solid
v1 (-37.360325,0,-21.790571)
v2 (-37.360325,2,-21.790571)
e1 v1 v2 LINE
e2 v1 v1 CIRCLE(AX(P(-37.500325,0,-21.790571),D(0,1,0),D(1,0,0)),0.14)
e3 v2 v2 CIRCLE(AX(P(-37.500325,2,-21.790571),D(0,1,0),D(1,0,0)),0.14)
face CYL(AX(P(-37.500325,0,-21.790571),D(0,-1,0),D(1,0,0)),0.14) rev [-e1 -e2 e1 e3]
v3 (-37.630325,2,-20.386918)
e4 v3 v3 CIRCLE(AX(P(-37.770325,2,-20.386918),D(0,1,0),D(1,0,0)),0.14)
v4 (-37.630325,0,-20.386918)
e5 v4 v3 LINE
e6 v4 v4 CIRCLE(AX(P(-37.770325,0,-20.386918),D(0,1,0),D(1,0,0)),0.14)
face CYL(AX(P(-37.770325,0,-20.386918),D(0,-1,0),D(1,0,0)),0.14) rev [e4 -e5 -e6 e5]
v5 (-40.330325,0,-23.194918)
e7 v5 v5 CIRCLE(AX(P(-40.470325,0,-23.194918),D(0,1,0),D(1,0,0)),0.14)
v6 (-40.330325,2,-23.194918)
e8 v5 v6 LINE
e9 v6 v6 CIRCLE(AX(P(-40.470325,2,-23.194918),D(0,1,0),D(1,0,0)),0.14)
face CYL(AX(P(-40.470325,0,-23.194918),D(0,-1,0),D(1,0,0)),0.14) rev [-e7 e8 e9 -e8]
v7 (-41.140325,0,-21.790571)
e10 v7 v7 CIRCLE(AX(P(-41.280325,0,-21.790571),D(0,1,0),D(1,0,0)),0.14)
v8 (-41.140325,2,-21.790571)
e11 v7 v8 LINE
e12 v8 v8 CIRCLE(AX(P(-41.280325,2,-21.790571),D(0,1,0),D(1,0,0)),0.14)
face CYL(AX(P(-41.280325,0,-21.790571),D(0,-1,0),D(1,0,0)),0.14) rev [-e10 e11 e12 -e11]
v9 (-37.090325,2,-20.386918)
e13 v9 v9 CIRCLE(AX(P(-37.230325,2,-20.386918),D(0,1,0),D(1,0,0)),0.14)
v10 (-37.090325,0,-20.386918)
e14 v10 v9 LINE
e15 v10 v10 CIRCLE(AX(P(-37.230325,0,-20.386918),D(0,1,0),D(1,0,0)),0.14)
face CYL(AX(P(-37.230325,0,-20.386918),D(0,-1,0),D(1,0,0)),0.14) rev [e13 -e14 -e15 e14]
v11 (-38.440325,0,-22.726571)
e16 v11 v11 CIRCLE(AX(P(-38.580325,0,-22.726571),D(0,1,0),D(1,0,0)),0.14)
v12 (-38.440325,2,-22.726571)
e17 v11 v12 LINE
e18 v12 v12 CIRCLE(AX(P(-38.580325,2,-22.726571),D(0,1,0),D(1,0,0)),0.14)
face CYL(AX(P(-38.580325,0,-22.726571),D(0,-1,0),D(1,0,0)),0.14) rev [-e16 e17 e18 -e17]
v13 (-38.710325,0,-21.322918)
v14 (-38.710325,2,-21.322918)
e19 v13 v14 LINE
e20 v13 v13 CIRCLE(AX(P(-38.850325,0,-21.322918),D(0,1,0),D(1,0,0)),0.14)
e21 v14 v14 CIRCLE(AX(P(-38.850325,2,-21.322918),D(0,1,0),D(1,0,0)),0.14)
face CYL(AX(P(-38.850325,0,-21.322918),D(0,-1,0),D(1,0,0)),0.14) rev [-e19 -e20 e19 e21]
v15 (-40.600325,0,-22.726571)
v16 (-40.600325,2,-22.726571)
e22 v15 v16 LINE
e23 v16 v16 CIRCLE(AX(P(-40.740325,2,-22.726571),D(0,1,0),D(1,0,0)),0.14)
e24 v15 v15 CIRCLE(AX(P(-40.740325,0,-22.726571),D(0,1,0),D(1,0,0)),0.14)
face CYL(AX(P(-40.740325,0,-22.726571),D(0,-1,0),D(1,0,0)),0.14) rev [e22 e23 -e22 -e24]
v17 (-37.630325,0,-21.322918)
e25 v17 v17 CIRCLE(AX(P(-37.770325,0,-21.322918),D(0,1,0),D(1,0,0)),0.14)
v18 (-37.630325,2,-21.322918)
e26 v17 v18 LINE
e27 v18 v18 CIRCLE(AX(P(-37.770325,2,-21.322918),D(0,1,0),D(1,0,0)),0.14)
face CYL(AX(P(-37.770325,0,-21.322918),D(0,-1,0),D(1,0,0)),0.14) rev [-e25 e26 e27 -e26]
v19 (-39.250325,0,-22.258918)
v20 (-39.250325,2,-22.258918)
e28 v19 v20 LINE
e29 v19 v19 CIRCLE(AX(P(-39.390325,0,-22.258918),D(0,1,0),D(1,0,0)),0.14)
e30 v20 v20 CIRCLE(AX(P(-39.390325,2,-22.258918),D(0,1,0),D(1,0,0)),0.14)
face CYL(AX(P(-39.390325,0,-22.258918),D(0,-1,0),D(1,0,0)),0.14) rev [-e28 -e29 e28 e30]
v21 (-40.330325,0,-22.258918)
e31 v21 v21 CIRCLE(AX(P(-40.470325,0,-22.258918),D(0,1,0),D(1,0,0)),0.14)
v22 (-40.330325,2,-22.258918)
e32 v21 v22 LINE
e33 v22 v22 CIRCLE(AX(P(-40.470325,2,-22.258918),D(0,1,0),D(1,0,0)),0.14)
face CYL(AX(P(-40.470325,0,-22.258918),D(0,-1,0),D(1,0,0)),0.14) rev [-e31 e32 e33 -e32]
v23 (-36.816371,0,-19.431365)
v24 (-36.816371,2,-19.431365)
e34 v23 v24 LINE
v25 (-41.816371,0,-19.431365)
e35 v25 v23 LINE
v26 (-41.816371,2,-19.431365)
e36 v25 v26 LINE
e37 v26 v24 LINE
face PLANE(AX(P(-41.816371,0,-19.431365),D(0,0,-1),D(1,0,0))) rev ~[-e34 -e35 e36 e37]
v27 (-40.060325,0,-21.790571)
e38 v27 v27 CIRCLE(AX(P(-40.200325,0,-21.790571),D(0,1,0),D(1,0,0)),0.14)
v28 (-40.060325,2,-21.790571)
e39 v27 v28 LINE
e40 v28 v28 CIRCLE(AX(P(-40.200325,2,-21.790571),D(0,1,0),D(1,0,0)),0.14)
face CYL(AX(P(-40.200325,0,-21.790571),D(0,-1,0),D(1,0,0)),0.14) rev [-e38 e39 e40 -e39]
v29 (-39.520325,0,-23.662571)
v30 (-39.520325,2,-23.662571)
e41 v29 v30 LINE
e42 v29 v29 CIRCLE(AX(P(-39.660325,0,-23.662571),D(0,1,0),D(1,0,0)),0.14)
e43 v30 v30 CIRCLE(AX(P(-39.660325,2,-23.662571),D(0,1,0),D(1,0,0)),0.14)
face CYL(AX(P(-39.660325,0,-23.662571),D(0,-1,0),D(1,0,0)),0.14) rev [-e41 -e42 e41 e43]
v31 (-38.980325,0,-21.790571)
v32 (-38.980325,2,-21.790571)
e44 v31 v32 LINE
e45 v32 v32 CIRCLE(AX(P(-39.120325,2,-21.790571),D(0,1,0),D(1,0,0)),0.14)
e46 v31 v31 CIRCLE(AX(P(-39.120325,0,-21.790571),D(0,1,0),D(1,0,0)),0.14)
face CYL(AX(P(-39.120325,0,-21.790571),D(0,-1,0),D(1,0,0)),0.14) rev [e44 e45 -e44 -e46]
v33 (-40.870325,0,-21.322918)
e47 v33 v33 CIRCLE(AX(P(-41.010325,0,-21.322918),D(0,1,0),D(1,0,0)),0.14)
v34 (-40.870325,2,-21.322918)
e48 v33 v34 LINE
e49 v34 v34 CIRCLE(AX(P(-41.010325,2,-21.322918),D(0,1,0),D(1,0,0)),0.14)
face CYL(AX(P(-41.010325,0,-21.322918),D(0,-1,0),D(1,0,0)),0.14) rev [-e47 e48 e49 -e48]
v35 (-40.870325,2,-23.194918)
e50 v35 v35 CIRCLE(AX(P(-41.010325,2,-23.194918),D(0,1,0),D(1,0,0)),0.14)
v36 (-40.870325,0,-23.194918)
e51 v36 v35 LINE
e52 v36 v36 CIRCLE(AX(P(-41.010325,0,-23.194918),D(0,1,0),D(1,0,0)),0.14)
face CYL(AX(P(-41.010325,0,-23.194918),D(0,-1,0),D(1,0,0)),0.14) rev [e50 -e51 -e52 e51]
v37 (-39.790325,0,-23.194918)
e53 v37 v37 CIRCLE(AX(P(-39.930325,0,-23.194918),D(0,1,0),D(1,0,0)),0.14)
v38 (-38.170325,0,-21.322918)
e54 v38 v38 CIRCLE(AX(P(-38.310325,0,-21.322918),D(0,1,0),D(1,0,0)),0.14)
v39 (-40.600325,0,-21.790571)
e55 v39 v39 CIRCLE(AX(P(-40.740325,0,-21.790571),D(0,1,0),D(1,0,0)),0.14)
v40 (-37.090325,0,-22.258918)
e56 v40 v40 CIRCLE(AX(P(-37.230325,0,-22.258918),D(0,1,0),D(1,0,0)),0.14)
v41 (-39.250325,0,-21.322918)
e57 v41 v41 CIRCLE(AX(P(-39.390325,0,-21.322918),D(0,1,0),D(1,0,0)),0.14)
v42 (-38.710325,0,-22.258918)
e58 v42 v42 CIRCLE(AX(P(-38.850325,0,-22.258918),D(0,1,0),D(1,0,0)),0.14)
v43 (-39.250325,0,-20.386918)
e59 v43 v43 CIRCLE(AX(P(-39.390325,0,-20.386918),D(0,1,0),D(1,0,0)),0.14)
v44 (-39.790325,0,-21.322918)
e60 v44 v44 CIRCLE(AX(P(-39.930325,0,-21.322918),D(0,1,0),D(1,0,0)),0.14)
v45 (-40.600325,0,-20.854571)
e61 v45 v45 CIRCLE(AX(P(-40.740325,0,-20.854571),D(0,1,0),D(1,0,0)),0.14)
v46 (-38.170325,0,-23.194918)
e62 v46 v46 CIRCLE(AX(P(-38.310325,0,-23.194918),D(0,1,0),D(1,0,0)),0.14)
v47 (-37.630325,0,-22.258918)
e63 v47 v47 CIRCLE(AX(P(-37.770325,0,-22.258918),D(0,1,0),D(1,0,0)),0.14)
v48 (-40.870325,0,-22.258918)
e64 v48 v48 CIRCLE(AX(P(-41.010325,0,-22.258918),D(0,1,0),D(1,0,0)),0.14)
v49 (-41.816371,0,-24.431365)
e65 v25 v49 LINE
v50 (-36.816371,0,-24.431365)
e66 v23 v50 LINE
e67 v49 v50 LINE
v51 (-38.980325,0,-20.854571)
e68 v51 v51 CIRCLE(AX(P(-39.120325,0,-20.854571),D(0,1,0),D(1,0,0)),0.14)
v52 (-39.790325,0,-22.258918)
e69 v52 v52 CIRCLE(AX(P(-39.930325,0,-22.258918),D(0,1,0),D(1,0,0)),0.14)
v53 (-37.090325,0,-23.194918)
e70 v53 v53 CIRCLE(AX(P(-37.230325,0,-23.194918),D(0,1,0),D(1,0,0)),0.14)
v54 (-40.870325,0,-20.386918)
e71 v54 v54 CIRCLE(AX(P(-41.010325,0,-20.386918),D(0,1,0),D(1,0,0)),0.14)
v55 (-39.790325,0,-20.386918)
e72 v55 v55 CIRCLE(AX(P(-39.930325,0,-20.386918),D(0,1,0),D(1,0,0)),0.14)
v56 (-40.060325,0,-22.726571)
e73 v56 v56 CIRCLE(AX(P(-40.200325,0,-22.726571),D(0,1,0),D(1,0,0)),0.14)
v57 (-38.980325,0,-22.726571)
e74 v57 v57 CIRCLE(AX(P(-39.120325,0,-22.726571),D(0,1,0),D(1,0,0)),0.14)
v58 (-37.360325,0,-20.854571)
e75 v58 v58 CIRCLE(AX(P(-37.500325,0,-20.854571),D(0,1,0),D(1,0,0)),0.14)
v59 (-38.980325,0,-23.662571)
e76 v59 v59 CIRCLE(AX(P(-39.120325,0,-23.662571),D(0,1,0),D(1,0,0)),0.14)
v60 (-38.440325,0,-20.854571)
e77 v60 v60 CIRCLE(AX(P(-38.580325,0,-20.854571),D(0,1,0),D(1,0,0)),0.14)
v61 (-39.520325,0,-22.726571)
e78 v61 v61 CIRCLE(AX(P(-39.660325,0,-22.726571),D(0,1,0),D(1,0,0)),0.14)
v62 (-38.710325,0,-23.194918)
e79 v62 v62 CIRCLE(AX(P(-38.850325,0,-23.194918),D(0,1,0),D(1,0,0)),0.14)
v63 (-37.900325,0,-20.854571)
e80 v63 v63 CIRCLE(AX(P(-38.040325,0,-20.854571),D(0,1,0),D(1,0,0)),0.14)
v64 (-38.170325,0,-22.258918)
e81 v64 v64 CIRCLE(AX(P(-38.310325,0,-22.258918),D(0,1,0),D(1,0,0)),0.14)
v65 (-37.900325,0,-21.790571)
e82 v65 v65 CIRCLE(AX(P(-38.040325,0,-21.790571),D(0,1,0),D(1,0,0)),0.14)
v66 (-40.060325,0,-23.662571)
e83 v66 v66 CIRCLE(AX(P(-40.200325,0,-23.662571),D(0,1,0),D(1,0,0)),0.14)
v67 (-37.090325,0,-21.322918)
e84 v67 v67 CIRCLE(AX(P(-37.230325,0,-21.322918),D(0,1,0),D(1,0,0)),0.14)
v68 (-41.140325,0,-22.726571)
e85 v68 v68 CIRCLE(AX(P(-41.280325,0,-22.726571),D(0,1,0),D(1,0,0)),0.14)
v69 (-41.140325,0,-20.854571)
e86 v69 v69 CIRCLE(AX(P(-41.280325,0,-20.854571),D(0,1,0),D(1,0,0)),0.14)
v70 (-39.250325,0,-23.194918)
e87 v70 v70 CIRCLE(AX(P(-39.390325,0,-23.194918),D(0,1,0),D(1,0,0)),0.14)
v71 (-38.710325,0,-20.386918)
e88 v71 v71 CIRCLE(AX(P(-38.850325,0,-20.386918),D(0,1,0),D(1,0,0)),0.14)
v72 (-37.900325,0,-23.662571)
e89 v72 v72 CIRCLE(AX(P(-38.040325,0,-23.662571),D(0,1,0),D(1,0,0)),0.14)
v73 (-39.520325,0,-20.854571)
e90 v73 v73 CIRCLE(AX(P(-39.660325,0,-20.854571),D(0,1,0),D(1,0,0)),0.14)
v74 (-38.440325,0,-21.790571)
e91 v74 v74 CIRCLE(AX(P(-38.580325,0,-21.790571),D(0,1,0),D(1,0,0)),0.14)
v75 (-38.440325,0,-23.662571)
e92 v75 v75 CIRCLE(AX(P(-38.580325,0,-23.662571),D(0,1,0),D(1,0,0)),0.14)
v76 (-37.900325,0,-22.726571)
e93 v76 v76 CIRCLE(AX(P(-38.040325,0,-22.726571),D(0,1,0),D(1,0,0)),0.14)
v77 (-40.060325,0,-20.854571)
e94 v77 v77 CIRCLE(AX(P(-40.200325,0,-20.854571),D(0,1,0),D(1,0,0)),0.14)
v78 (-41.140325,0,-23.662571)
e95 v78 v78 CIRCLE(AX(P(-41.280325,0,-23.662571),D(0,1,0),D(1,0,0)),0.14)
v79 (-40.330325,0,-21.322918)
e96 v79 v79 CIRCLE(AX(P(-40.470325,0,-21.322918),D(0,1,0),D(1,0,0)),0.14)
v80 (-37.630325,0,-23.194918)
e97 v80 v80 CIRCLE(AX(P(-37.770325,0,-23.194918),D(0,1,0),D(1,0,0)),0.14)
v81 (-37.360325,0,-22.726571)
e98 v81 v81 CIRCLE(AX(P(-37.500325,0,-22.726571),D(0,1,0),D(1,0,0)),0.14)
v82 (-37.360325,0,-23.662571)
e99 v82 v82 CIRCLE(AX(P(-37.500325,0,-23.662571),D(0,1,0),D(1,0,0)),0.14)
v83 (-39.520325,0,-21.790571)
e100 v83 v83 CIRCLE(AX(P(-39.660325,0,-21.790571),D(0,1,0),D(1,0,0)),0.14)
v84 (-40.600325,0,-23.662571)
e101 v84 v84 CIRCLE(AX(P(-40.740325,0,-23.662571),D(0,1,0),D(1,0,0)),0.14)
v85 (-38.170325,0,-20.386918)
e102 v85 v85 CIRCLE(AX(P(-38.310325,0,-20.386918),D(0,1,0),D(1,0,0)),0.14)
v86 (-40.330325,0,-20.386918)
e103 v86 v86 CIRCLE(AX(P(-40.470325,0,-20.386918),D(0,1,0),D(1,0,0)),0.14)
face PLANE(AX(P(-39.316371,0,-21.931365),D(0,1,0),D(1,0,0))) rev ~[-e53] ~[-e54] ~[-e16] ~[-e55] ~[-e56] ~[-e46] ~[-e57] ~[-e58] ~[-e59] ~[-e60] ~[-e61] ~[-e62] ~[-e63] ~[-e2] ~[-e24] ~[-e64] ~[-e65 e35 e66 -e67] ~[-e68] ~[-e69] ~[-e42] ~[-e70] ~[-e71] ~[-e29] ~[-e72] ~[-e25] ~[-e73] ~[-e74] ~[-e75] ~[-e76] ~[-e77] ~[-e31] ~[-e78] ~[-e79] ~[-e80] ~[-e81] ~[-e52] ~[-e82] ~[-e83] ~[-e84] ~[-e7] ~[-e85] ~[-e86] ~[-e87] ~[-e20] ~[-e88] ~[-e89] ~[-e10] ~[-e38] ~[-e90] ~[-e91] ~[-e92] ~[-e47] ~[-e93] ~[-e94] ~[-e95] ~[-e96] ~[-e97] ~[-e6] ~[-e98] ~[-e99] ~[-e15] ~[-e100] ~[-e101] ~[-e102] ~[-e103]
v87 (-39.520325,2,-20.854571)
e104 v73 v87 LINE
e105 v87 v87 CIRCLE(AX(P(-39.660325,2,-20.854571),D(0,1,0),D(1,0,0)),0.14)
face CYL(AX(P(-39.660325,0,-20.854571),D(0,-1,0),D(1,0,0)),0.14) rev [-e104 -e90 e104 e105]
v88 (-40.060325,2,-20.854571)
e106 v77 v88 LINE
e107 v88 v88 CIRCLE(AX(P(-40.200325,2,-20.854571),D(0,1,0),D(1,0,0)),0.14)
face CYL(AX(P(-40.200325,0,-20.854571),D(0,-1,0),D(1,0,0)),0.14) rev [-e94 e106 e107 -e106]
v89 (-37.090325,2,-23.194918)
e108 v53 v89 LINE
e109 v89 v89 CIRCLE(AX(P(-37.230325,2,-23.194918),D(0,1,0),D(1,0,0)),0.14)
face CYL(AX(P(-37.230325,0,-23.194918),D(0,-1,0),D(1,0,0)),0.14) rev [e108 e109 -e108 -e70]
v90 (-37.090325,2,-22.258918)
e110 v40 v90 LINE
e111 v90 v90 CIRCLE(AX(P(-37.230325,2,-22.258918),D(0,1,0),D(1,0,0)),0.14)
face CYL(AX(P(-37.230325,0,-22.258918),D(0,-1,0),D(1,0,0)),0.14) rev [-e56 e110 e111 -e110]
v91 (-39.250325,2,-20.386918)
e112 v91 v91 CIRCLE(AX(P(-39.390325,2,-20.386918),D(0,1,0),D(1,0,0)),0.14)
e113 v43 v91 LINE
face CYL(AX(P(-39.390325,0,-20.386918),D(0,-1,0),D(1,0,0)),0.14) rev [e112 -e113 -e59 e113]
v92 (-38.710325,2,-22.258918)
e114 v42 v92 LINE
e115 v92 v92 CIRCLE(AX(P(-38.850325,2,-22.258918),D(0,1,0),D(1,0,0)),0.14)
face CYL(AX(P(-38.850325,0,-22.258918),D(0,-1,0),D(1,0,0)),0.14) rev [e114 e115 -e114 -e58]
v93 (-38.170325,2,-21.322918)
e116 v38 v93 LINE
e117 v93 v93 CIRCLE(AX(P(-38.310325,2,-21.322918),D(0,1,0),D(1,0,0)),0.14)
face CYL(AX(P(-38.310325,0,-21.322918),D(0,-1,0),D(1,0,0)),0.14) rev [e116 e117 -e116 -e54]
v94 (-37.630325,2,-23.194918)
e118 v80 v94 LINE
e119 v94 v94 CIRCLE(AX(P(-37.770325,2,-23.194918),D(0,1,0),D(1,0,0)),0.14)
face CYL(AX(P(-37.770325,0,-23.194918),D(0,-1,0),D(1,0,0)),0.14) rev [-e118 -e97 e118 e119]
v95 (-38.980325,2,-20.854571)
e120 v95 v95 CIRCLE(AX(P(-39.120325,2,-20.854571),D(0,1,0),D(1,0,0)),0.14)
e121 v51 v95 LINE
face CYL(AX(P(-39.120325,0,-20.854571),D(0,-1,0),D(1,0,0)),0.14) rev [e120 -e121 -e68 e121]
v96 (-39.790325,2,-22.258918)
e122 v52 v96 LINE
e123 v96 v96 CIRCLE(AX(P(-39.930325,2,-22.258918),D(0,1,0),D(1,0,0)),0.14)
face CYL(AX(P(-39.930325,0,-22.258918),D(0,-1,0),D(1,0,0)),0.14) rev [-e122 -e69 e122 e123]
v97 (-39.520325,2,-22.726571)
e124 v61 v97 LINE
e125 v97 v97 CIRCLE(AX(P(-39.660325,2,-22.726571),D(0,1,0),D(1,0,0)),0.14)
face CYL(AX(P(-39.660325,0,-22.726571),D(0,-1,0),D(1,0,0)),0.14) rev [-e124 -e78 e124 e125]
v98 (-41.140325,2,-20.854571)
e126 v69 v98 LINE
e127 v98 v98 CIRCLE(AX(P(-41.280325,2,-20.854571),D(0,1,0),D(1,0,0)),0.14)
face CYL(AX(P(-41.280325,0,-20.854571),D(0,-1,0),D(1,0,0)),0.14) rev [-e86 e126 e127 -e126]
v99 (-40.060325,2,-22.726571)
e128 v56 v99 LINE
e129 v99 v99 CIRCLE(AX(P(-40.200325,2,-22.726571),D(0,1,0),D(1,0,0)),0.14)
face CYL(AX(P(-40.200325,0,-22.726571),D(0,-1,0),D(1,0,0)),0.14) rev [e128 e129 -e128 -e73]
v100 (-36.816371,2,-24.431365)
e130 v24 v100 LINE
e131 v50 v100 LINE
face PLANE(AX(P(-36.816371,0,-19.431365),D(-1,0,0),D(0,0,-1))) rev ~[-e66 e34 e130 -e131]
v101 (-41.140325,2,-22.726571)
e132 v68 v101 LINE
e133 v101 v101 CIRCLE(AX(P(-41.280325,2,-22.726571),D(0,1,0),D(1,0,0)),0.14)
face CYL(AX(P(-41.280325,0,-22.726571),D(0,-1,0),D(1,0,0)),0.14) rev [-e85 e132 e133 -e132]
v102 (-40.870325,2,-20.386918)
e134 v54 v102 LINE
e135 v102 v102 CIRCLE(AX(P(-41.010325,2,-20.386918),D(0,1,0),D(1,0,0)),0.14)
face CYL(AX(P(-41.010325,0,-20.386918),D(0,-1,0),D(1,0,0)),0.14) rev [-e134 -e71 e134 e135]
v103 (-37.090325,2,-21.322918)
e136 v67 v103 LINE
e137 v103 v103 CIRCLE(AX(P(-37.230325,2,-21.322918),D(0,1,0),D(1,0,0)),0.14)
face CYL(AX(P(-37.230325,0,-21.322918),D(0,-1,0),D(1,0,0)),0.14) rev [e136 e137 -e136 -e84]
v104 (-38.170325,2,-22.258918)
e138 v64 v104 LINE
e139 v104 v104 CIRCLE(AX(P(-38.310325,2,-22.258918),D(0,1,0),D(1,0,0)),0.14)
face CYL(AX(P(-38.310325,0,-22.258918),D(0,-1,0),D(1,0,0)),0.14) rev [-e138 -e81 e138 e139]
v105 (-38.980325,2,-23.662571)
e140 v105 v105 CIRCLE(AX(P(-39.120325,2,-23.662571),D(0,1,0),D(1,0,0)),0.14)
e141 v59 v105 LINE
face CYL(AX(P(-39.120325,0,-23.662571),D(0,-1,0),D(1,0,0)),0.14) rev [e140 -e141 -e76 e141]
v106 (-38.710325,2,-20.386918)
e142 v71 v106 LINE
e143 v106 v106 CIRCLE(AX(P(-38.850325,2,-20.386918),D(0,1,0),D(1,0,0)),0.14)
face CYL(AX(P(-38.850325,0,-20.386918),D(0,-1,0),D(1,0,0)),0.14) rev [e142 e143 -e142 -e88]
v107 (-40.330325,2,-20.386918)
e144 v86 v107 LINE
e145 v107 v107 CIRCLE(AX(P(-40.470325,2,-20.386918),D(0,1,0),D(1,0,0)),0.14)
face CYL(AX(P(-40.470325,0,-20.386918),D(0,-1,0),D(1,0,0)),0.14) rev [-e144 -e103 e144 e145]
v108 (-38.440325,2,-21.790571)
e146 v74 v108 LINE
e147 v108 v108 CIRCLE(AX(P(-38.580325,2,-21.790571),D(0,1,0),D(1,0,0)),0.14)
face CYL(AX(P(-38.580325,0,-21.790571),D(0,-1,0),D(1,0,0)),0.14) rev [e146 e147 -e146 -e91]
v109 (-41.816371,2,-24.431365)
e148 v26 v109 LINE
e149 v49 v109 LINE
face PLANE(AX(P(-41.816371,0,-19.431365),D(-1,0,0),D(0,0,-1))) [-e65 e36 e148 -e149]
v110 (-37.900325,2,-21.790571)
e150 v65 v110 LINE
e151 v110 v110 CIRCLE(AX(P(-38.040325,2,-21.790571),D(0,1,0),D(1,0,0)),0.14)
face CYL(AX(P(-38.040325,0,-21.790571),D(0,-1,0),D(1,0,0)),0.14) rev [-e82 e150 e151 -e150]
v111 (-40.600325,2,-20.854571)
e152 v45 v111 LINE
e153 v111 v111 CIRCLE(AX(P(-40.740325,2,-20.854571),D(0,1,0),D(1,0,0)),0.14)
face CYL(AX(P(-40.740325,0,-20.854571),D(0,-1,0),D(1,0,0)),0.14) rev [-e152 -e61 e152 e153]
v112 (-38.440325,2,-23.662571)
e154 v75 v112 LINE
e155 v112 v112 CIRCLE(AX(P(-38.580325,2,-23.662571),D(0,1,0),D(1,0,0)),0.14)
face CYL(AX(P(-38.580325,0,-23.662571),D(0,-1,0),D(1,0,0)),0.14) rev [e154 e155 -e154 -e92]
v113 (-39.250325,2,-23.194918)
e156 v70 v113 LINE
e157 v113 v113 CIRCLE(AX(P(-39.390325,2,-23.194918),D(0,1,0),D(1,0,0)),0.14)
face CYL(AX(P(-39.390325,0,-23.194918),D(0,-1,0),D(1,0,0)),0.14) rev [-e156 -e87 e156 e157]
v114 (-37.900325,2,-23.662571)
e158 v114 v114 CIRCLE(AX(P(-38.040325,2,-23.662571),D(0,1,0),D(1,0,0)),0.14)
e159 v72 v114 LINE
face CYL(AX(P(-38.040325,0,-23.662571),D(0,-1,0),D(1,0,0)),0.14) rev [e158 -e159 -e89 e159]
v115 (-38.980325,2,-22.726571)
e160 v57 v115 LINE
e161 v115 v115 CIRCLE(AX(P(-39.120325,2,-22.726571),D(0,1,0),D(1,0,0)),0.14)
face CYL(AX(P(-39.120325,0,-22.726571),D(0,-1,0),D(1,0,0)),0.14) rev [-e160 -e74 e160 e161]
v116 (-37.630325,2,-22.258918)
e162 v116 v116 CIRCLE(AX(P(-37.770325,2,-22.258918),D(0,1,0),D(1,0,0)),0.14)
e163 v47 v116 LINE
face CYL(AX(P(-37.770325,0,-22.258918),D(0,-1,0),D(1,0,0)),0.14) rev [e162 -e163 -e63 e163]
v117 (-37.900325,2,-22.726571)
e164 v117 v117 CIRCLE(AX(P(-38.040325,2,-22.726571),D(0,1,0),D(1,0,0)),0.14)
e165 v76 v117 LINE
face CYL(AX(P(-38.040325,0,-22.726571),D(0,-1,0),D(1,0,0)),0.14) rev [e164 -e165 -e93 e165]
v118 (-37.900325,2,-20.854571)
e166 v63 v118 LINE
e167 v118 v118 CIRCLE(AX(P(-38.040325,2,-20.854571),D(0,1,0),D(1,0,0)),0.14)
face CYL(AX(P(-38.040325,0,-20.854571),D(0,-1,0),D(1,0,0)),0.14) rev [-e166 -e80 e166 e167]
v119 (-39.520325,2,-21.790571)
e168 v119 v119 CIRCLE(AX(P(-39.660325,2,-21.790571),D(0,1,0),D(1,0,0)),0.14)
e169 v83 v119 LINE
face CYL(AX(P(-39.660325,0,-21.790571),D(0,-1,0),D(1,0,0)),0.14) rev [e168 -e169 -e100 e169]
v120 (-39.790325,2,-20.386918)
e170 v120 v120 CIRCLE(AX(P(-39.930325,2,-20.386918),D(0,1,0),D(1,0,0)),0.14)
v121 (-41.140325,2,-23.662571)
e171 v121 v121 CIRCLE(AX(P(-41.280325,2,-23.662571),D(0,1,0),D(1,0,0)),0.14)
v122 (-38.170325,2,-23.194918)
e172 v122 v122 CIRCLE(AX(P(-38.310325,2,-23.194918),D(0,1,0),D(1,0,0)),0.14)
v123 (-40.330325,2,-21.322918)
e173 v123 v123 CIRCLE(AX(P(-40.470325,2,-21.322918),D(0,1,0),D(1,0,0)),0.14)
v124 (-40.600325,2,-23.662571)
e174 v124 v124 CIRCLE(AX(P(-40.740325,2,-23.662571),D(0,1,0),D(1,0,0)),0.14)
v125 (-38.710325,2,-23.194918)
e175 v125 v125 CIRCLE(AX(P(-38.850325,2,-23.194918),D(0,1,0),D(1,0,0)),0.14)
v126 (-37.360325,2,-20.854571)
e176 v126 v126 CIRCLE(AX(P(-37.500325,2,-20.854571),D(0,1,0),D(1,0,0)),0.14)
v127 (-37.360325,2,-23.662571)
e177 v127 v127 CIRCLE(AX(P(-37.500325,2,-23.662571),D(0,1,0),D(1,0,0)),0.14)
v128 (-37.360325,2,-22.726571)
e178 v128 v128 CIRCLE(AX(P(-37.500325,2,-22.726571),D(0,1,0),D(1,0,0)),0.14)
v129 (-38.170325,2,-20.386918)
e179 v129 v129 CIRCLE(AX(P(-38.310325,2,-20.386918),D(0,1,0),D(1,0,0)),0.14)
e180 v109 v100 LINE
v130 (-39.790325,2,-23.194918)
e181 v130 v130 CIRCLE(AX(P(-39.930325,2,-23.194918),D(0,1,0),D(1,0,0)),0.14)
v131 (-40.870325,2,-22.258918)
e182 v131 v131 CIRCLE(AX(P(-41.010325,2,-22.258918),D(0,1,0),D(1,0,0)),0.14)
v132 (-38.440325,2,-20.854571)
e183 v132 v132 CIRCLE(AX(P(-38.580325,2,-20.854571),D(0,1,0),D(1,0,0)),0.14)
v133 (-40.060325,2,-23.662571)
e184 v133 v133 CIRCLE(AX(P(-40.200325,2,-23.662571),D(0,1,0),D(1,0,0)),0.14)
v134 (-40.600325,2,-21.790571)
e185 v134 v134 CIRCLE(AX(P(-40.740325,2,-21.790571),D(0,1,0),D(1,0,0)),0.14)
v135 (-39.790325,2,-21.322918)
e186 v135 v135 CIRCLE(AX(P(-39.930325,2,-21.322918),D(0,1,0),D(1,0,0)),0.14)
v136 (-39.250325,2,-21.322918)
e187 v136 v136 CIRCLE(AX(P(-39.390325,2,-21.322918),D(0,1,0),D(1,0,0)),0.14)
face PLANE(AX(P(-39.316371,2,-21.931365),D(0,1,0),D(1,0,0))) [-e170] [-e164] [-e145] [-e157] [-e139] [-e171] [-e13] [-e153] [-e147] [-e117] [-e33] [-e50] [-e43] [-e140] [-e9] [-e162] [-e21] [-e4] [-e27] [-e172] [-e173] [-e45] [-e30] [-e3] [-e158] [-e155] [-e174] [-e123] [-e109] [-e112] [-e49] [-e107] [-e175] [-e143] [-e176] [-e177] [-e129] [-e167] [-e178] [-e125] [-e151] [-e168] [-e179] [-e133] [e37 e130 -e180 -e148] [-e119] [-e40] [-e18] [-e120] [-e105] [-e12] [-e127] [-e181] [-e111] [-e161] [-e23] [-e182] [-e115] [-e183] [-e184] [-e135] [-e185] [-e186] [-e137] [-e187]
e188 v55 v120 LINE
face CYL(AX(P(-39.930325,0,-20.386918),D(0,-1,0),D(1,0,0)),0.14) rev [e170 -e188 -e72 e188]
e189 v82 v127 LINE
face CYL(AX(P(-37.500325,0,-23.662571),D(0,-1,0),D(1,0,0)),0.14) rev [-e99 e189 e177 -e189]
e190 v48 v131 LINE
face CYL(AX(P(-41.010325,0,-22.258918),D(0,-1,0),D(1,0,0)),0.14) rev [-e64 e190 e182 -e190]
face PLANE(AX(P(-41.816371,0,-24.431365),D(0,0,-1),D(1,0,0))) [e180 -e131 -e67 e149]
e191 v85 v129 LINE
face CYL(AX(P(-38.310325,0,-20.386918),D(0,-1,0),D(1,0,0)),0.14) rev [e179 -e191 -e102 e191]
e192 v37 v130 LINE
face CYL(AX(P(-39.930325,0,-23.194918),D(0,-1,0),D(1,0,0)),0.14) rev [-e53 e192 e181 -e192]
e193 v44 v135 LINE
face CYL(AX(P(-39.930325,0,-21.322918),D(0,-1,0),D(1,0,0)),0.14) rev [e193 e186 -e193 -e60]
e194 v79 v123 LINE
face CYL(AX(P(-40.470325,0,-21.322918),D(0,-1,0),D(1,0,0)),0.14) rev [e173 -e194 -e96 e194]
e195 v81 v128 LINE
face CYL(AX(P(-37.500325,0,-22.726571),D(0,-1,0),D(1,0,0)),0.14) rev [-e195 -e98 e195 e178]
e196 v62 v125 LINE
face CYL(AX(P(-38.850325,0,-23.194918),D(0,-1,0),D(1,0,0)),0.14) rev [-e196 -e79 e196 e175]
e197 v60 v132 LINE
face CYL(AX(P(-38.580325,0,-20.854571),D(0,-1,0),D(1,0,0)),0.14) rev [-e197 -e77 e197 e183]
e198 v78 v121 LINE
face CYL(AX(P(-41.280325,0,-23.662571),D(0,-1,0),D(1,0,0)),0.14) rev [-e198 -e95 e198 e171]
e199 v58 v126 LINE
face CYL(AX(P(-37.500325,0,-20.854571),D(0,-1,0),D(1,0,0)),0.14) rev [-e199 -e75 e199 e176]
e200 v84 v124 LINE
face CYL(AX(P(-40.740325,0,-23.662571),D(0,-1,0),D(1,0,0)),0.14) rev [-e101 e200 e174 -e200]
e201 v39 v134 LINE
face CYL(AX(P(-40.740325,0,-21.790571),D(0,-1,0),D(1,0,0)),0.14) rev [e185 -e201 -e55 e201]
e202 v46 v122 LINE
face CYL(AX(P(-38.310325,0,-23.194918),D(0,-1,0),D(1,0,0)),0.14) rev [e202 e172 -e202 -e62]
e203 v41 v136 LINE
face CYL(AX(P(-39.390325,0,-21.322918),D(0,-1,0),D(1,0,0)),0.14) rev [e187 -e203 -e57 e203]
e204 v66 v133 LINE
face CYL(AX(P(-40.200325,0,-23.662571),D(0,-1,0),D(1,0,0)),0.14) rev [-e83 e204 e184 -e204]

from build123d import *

# Parameters (mm, degrees)
SKETCH1_W           = 5
SKETCH1_H           = 5
BOSS_EXTRUDE1_DEPTH = 2
SKETCH2_R           = 0.14
CUT_EXTRUDE1_DEPTH  = 2


with BuildPart() as part:
    # Sketch1 → Boss-Extrude1 (new body)
    with BuildSketch(Plane(origin=(0, 0, 0), x_dir=(1, 0, 0), z_dir=(0, 1, 0))):
        with Locations((-39.316370624, 21.931364822)):
            Rectangle(SKETCH1_W, SKETCH1_H)
    extrude(amount=BOSS_EXTRUDE1_DEPTH)

    # Sketch2 → Cut-Extrude1 (cut)
    with BuildSketch(Plane(origin=(0, 0, 0), x_dir=(1, 0, 0), z_dir=(0, 1, 0))):
        with Locations((-41.280324539, 23.66257128)):
            Circle(SKETCH2_R)
        with Locations((-40.740324539, 23.66257128)):
            Circle(SKETCH2_R)
        with Locations((-40.200324539, 23.66257128)):
            Circle(SKETCH2_R)
        with Locations((-39.660324539, 23.66257128)):
            Circle(SKETCH2_R)
        with Locations((-39.120324539, 23.66257128)):
            Circle(SKETCH2_R)
        with Locations((-38.580324539, 23.66257128)):
            Circle(SKETCH2_R)
        with Locations((-38.040324539, 23.66257128)):
            Circle(SKETCH2_R)
        with Locations((-37.500324539, 23.66257128)):
            Circle(SKETCH2_R)
        with Locations((-37.500324539, 22.72657128)):
            Circle(SKETCH2_R)
        with Locations((-37.500324539, 21.79057128)):
            Circle(SKETCH2_R)
        with Locations((-41.010324539, 23.194917562)):
            Circle(SKETCH2_R)
        with Locations((-40.470324539, 23.194917562)):
            Circle(SKETCH2_R)
        with Locations((-39.930324539, 23.194917562)):
            Circle(SKETCH2_R)
        with Locations((-39.390324539, 23.194917562)):
            Circle(SKETCH2_R)
        with Locations((-38.850324539, 23.194917562)):
            Circle(SKETCH2_R)
        with Locations((-38.310324539, 23.194917562)):
            Circle(SKETCH2_R)
        with Locations((-37.500324539, 20.85457128)):
            Circle(SKETCH2_R)
        with Locations((-37.770324539, 23.194917562)):
            Circle(SKETCH2_R)
        with Locations((-37.770324539, 22.258917562)):
            Circle(SKETCH2_R)
        with Locations((-41.280324539, 22.72657128)):
            Circle(SKETCH2_R)
        with Locations((-40.740324539, 22.72657128)):
            Circle(SKETCH2_R)
        with Locations((-40.200324539, 22.72657128)):
            Circle(SKETCH2_R)
        with Locations((-39.660324539, 22.72657128)):
            Circle(SKETCH2_R)
        with Locations((-39.120324539, 22.72657128)):
            Circle(SKETCH2_R)
        with Locations((-38.580324539, 22.72657128)):
            Circle(SKETCH2_R)
        with Locations((-38.040324539, 22.72657128)):
            Circle(SKETCH2_R)
        with Locations((-37.770324539, 21.322917562)):
            Circle(SKETCH2_R)
        with Locations((-41.010324539, 20.386917562)):
            Circle(SKETCH2_R)
        with Locations((-40.470324539, 20.386917562)):
            Circle(SKETCH2_R)
        with Locations((-41.280324539, 21.79057128)):
            Circle(SKETCH2_R)
        with Locations((-40.740324539, 21.79057128)):
            Circle(SKETCH2_R)
        with Locations((-40.200324539, 21.79057128)):
            Circle(SKETCH2_R)
        with Locations((-39.660324539, 21.79057128)):
            Circle(SKETCH2_R)
        with Locations((-39.120324539, 21.79057128)):
            Circle(SKETCH2_R)
        with Locations((-38.580324539, 21.79057128)):
            Circle(SKETCH2_R)
        with Locations((-38.040324539, 21.79057128)):
            Circle(SKETCH2_R)
        with Locations((-39.930324539, 20.386917562)):
            Circle(SKETCH2_R)
        with Locations((-39.390324539, 20.386917562)):
            Circle(SKETCH2_R)
        with Locations((-38.850324539, 20.386917562)):
            Circle(SKETCH2_R)
        with Locations((-41.280324539, 20.85457128)):
            Circle(SKETCH2_R)
        with Locations((-40.740324539, 20.85457128)):
            Circle(SKETCH2_R)
        with Locations((-40.200324539, 20.85457128)):
            Circle(SKETCH2_R)
        with Locations((-39.660324539, 20.85457128)):
            Circle(SKETCH2_R)
        with Locations((-39.120324539, 20.85457128)):
            Circle(SKETCH2_R)
        with Locations((-38.580324539, 20.85457128)):
            Circle(SKETCH2_R)
        with Locations((-38.040324539, 20.85457128)):
            Circle(SKETCH2_R)
        with Locations((-38.310324539, 20.386917562)):
            Circle(SKETCH2_R)
        with Locations((-37.770324539, 20.386917562)):
            Circle(SKETCH2_R)
        with Locations((-37.230324539, 23.194917562)):
            Circle(SKETCH2_R)
        with Locations((-41.010324539, 22.258917562)):
            Circle(SKETCH2_R)
        with Locations((-40.470324539, 22.258917562)):
            Circle(SKETCH2_R)
        with Locations((-39.930324539, 22.258917562)):
            Circle(SKETCH2_R)
        with Locations((-39.390324539, 22.258917562)):
            Circle(SKETCH2_R)
        with Locations((-38.850324539, 22.258917562)):
            Circle(SKETCH2_R)
        with Locations((-38.310324539, 22.258917562)):
            Circle(SKETCH2_R)
        with Locations((-37.230324539, 22.258917562)):
            Circle(SKETCH2_R)
        with Locations((-37.230324539, 21.322917562)):
            Circle(SKETCH2_R)
        with Locations((-37.230324539, 20.386917562)):
            Circle(SKETCH2_R)
        with Locations((-41.010324539, 21.322917562)):
            Circle(SKETCH2_R)
        with Locations((-40.470324539, 21.322917562)):
            Circle(SKETCH2_R)
        with Locations((-39.930324539, 21.322917562)):
            Circle(SKETCH2_R)
        with Locations((-39.390324539, 21.322917562)):
            Circle(SKETCH2_R)
        with Locations((-38.850324539, 21.322917562)):
            Circle(SKETCH2_R)
        with Locations((-38.310324539, 21.322917562)):
            Circle(SKETCH2_R)
    extrude(amount=CUT_EXTRUDE1_DEPTH, mode=Mode.SUBTRACT)


solid = part.part
